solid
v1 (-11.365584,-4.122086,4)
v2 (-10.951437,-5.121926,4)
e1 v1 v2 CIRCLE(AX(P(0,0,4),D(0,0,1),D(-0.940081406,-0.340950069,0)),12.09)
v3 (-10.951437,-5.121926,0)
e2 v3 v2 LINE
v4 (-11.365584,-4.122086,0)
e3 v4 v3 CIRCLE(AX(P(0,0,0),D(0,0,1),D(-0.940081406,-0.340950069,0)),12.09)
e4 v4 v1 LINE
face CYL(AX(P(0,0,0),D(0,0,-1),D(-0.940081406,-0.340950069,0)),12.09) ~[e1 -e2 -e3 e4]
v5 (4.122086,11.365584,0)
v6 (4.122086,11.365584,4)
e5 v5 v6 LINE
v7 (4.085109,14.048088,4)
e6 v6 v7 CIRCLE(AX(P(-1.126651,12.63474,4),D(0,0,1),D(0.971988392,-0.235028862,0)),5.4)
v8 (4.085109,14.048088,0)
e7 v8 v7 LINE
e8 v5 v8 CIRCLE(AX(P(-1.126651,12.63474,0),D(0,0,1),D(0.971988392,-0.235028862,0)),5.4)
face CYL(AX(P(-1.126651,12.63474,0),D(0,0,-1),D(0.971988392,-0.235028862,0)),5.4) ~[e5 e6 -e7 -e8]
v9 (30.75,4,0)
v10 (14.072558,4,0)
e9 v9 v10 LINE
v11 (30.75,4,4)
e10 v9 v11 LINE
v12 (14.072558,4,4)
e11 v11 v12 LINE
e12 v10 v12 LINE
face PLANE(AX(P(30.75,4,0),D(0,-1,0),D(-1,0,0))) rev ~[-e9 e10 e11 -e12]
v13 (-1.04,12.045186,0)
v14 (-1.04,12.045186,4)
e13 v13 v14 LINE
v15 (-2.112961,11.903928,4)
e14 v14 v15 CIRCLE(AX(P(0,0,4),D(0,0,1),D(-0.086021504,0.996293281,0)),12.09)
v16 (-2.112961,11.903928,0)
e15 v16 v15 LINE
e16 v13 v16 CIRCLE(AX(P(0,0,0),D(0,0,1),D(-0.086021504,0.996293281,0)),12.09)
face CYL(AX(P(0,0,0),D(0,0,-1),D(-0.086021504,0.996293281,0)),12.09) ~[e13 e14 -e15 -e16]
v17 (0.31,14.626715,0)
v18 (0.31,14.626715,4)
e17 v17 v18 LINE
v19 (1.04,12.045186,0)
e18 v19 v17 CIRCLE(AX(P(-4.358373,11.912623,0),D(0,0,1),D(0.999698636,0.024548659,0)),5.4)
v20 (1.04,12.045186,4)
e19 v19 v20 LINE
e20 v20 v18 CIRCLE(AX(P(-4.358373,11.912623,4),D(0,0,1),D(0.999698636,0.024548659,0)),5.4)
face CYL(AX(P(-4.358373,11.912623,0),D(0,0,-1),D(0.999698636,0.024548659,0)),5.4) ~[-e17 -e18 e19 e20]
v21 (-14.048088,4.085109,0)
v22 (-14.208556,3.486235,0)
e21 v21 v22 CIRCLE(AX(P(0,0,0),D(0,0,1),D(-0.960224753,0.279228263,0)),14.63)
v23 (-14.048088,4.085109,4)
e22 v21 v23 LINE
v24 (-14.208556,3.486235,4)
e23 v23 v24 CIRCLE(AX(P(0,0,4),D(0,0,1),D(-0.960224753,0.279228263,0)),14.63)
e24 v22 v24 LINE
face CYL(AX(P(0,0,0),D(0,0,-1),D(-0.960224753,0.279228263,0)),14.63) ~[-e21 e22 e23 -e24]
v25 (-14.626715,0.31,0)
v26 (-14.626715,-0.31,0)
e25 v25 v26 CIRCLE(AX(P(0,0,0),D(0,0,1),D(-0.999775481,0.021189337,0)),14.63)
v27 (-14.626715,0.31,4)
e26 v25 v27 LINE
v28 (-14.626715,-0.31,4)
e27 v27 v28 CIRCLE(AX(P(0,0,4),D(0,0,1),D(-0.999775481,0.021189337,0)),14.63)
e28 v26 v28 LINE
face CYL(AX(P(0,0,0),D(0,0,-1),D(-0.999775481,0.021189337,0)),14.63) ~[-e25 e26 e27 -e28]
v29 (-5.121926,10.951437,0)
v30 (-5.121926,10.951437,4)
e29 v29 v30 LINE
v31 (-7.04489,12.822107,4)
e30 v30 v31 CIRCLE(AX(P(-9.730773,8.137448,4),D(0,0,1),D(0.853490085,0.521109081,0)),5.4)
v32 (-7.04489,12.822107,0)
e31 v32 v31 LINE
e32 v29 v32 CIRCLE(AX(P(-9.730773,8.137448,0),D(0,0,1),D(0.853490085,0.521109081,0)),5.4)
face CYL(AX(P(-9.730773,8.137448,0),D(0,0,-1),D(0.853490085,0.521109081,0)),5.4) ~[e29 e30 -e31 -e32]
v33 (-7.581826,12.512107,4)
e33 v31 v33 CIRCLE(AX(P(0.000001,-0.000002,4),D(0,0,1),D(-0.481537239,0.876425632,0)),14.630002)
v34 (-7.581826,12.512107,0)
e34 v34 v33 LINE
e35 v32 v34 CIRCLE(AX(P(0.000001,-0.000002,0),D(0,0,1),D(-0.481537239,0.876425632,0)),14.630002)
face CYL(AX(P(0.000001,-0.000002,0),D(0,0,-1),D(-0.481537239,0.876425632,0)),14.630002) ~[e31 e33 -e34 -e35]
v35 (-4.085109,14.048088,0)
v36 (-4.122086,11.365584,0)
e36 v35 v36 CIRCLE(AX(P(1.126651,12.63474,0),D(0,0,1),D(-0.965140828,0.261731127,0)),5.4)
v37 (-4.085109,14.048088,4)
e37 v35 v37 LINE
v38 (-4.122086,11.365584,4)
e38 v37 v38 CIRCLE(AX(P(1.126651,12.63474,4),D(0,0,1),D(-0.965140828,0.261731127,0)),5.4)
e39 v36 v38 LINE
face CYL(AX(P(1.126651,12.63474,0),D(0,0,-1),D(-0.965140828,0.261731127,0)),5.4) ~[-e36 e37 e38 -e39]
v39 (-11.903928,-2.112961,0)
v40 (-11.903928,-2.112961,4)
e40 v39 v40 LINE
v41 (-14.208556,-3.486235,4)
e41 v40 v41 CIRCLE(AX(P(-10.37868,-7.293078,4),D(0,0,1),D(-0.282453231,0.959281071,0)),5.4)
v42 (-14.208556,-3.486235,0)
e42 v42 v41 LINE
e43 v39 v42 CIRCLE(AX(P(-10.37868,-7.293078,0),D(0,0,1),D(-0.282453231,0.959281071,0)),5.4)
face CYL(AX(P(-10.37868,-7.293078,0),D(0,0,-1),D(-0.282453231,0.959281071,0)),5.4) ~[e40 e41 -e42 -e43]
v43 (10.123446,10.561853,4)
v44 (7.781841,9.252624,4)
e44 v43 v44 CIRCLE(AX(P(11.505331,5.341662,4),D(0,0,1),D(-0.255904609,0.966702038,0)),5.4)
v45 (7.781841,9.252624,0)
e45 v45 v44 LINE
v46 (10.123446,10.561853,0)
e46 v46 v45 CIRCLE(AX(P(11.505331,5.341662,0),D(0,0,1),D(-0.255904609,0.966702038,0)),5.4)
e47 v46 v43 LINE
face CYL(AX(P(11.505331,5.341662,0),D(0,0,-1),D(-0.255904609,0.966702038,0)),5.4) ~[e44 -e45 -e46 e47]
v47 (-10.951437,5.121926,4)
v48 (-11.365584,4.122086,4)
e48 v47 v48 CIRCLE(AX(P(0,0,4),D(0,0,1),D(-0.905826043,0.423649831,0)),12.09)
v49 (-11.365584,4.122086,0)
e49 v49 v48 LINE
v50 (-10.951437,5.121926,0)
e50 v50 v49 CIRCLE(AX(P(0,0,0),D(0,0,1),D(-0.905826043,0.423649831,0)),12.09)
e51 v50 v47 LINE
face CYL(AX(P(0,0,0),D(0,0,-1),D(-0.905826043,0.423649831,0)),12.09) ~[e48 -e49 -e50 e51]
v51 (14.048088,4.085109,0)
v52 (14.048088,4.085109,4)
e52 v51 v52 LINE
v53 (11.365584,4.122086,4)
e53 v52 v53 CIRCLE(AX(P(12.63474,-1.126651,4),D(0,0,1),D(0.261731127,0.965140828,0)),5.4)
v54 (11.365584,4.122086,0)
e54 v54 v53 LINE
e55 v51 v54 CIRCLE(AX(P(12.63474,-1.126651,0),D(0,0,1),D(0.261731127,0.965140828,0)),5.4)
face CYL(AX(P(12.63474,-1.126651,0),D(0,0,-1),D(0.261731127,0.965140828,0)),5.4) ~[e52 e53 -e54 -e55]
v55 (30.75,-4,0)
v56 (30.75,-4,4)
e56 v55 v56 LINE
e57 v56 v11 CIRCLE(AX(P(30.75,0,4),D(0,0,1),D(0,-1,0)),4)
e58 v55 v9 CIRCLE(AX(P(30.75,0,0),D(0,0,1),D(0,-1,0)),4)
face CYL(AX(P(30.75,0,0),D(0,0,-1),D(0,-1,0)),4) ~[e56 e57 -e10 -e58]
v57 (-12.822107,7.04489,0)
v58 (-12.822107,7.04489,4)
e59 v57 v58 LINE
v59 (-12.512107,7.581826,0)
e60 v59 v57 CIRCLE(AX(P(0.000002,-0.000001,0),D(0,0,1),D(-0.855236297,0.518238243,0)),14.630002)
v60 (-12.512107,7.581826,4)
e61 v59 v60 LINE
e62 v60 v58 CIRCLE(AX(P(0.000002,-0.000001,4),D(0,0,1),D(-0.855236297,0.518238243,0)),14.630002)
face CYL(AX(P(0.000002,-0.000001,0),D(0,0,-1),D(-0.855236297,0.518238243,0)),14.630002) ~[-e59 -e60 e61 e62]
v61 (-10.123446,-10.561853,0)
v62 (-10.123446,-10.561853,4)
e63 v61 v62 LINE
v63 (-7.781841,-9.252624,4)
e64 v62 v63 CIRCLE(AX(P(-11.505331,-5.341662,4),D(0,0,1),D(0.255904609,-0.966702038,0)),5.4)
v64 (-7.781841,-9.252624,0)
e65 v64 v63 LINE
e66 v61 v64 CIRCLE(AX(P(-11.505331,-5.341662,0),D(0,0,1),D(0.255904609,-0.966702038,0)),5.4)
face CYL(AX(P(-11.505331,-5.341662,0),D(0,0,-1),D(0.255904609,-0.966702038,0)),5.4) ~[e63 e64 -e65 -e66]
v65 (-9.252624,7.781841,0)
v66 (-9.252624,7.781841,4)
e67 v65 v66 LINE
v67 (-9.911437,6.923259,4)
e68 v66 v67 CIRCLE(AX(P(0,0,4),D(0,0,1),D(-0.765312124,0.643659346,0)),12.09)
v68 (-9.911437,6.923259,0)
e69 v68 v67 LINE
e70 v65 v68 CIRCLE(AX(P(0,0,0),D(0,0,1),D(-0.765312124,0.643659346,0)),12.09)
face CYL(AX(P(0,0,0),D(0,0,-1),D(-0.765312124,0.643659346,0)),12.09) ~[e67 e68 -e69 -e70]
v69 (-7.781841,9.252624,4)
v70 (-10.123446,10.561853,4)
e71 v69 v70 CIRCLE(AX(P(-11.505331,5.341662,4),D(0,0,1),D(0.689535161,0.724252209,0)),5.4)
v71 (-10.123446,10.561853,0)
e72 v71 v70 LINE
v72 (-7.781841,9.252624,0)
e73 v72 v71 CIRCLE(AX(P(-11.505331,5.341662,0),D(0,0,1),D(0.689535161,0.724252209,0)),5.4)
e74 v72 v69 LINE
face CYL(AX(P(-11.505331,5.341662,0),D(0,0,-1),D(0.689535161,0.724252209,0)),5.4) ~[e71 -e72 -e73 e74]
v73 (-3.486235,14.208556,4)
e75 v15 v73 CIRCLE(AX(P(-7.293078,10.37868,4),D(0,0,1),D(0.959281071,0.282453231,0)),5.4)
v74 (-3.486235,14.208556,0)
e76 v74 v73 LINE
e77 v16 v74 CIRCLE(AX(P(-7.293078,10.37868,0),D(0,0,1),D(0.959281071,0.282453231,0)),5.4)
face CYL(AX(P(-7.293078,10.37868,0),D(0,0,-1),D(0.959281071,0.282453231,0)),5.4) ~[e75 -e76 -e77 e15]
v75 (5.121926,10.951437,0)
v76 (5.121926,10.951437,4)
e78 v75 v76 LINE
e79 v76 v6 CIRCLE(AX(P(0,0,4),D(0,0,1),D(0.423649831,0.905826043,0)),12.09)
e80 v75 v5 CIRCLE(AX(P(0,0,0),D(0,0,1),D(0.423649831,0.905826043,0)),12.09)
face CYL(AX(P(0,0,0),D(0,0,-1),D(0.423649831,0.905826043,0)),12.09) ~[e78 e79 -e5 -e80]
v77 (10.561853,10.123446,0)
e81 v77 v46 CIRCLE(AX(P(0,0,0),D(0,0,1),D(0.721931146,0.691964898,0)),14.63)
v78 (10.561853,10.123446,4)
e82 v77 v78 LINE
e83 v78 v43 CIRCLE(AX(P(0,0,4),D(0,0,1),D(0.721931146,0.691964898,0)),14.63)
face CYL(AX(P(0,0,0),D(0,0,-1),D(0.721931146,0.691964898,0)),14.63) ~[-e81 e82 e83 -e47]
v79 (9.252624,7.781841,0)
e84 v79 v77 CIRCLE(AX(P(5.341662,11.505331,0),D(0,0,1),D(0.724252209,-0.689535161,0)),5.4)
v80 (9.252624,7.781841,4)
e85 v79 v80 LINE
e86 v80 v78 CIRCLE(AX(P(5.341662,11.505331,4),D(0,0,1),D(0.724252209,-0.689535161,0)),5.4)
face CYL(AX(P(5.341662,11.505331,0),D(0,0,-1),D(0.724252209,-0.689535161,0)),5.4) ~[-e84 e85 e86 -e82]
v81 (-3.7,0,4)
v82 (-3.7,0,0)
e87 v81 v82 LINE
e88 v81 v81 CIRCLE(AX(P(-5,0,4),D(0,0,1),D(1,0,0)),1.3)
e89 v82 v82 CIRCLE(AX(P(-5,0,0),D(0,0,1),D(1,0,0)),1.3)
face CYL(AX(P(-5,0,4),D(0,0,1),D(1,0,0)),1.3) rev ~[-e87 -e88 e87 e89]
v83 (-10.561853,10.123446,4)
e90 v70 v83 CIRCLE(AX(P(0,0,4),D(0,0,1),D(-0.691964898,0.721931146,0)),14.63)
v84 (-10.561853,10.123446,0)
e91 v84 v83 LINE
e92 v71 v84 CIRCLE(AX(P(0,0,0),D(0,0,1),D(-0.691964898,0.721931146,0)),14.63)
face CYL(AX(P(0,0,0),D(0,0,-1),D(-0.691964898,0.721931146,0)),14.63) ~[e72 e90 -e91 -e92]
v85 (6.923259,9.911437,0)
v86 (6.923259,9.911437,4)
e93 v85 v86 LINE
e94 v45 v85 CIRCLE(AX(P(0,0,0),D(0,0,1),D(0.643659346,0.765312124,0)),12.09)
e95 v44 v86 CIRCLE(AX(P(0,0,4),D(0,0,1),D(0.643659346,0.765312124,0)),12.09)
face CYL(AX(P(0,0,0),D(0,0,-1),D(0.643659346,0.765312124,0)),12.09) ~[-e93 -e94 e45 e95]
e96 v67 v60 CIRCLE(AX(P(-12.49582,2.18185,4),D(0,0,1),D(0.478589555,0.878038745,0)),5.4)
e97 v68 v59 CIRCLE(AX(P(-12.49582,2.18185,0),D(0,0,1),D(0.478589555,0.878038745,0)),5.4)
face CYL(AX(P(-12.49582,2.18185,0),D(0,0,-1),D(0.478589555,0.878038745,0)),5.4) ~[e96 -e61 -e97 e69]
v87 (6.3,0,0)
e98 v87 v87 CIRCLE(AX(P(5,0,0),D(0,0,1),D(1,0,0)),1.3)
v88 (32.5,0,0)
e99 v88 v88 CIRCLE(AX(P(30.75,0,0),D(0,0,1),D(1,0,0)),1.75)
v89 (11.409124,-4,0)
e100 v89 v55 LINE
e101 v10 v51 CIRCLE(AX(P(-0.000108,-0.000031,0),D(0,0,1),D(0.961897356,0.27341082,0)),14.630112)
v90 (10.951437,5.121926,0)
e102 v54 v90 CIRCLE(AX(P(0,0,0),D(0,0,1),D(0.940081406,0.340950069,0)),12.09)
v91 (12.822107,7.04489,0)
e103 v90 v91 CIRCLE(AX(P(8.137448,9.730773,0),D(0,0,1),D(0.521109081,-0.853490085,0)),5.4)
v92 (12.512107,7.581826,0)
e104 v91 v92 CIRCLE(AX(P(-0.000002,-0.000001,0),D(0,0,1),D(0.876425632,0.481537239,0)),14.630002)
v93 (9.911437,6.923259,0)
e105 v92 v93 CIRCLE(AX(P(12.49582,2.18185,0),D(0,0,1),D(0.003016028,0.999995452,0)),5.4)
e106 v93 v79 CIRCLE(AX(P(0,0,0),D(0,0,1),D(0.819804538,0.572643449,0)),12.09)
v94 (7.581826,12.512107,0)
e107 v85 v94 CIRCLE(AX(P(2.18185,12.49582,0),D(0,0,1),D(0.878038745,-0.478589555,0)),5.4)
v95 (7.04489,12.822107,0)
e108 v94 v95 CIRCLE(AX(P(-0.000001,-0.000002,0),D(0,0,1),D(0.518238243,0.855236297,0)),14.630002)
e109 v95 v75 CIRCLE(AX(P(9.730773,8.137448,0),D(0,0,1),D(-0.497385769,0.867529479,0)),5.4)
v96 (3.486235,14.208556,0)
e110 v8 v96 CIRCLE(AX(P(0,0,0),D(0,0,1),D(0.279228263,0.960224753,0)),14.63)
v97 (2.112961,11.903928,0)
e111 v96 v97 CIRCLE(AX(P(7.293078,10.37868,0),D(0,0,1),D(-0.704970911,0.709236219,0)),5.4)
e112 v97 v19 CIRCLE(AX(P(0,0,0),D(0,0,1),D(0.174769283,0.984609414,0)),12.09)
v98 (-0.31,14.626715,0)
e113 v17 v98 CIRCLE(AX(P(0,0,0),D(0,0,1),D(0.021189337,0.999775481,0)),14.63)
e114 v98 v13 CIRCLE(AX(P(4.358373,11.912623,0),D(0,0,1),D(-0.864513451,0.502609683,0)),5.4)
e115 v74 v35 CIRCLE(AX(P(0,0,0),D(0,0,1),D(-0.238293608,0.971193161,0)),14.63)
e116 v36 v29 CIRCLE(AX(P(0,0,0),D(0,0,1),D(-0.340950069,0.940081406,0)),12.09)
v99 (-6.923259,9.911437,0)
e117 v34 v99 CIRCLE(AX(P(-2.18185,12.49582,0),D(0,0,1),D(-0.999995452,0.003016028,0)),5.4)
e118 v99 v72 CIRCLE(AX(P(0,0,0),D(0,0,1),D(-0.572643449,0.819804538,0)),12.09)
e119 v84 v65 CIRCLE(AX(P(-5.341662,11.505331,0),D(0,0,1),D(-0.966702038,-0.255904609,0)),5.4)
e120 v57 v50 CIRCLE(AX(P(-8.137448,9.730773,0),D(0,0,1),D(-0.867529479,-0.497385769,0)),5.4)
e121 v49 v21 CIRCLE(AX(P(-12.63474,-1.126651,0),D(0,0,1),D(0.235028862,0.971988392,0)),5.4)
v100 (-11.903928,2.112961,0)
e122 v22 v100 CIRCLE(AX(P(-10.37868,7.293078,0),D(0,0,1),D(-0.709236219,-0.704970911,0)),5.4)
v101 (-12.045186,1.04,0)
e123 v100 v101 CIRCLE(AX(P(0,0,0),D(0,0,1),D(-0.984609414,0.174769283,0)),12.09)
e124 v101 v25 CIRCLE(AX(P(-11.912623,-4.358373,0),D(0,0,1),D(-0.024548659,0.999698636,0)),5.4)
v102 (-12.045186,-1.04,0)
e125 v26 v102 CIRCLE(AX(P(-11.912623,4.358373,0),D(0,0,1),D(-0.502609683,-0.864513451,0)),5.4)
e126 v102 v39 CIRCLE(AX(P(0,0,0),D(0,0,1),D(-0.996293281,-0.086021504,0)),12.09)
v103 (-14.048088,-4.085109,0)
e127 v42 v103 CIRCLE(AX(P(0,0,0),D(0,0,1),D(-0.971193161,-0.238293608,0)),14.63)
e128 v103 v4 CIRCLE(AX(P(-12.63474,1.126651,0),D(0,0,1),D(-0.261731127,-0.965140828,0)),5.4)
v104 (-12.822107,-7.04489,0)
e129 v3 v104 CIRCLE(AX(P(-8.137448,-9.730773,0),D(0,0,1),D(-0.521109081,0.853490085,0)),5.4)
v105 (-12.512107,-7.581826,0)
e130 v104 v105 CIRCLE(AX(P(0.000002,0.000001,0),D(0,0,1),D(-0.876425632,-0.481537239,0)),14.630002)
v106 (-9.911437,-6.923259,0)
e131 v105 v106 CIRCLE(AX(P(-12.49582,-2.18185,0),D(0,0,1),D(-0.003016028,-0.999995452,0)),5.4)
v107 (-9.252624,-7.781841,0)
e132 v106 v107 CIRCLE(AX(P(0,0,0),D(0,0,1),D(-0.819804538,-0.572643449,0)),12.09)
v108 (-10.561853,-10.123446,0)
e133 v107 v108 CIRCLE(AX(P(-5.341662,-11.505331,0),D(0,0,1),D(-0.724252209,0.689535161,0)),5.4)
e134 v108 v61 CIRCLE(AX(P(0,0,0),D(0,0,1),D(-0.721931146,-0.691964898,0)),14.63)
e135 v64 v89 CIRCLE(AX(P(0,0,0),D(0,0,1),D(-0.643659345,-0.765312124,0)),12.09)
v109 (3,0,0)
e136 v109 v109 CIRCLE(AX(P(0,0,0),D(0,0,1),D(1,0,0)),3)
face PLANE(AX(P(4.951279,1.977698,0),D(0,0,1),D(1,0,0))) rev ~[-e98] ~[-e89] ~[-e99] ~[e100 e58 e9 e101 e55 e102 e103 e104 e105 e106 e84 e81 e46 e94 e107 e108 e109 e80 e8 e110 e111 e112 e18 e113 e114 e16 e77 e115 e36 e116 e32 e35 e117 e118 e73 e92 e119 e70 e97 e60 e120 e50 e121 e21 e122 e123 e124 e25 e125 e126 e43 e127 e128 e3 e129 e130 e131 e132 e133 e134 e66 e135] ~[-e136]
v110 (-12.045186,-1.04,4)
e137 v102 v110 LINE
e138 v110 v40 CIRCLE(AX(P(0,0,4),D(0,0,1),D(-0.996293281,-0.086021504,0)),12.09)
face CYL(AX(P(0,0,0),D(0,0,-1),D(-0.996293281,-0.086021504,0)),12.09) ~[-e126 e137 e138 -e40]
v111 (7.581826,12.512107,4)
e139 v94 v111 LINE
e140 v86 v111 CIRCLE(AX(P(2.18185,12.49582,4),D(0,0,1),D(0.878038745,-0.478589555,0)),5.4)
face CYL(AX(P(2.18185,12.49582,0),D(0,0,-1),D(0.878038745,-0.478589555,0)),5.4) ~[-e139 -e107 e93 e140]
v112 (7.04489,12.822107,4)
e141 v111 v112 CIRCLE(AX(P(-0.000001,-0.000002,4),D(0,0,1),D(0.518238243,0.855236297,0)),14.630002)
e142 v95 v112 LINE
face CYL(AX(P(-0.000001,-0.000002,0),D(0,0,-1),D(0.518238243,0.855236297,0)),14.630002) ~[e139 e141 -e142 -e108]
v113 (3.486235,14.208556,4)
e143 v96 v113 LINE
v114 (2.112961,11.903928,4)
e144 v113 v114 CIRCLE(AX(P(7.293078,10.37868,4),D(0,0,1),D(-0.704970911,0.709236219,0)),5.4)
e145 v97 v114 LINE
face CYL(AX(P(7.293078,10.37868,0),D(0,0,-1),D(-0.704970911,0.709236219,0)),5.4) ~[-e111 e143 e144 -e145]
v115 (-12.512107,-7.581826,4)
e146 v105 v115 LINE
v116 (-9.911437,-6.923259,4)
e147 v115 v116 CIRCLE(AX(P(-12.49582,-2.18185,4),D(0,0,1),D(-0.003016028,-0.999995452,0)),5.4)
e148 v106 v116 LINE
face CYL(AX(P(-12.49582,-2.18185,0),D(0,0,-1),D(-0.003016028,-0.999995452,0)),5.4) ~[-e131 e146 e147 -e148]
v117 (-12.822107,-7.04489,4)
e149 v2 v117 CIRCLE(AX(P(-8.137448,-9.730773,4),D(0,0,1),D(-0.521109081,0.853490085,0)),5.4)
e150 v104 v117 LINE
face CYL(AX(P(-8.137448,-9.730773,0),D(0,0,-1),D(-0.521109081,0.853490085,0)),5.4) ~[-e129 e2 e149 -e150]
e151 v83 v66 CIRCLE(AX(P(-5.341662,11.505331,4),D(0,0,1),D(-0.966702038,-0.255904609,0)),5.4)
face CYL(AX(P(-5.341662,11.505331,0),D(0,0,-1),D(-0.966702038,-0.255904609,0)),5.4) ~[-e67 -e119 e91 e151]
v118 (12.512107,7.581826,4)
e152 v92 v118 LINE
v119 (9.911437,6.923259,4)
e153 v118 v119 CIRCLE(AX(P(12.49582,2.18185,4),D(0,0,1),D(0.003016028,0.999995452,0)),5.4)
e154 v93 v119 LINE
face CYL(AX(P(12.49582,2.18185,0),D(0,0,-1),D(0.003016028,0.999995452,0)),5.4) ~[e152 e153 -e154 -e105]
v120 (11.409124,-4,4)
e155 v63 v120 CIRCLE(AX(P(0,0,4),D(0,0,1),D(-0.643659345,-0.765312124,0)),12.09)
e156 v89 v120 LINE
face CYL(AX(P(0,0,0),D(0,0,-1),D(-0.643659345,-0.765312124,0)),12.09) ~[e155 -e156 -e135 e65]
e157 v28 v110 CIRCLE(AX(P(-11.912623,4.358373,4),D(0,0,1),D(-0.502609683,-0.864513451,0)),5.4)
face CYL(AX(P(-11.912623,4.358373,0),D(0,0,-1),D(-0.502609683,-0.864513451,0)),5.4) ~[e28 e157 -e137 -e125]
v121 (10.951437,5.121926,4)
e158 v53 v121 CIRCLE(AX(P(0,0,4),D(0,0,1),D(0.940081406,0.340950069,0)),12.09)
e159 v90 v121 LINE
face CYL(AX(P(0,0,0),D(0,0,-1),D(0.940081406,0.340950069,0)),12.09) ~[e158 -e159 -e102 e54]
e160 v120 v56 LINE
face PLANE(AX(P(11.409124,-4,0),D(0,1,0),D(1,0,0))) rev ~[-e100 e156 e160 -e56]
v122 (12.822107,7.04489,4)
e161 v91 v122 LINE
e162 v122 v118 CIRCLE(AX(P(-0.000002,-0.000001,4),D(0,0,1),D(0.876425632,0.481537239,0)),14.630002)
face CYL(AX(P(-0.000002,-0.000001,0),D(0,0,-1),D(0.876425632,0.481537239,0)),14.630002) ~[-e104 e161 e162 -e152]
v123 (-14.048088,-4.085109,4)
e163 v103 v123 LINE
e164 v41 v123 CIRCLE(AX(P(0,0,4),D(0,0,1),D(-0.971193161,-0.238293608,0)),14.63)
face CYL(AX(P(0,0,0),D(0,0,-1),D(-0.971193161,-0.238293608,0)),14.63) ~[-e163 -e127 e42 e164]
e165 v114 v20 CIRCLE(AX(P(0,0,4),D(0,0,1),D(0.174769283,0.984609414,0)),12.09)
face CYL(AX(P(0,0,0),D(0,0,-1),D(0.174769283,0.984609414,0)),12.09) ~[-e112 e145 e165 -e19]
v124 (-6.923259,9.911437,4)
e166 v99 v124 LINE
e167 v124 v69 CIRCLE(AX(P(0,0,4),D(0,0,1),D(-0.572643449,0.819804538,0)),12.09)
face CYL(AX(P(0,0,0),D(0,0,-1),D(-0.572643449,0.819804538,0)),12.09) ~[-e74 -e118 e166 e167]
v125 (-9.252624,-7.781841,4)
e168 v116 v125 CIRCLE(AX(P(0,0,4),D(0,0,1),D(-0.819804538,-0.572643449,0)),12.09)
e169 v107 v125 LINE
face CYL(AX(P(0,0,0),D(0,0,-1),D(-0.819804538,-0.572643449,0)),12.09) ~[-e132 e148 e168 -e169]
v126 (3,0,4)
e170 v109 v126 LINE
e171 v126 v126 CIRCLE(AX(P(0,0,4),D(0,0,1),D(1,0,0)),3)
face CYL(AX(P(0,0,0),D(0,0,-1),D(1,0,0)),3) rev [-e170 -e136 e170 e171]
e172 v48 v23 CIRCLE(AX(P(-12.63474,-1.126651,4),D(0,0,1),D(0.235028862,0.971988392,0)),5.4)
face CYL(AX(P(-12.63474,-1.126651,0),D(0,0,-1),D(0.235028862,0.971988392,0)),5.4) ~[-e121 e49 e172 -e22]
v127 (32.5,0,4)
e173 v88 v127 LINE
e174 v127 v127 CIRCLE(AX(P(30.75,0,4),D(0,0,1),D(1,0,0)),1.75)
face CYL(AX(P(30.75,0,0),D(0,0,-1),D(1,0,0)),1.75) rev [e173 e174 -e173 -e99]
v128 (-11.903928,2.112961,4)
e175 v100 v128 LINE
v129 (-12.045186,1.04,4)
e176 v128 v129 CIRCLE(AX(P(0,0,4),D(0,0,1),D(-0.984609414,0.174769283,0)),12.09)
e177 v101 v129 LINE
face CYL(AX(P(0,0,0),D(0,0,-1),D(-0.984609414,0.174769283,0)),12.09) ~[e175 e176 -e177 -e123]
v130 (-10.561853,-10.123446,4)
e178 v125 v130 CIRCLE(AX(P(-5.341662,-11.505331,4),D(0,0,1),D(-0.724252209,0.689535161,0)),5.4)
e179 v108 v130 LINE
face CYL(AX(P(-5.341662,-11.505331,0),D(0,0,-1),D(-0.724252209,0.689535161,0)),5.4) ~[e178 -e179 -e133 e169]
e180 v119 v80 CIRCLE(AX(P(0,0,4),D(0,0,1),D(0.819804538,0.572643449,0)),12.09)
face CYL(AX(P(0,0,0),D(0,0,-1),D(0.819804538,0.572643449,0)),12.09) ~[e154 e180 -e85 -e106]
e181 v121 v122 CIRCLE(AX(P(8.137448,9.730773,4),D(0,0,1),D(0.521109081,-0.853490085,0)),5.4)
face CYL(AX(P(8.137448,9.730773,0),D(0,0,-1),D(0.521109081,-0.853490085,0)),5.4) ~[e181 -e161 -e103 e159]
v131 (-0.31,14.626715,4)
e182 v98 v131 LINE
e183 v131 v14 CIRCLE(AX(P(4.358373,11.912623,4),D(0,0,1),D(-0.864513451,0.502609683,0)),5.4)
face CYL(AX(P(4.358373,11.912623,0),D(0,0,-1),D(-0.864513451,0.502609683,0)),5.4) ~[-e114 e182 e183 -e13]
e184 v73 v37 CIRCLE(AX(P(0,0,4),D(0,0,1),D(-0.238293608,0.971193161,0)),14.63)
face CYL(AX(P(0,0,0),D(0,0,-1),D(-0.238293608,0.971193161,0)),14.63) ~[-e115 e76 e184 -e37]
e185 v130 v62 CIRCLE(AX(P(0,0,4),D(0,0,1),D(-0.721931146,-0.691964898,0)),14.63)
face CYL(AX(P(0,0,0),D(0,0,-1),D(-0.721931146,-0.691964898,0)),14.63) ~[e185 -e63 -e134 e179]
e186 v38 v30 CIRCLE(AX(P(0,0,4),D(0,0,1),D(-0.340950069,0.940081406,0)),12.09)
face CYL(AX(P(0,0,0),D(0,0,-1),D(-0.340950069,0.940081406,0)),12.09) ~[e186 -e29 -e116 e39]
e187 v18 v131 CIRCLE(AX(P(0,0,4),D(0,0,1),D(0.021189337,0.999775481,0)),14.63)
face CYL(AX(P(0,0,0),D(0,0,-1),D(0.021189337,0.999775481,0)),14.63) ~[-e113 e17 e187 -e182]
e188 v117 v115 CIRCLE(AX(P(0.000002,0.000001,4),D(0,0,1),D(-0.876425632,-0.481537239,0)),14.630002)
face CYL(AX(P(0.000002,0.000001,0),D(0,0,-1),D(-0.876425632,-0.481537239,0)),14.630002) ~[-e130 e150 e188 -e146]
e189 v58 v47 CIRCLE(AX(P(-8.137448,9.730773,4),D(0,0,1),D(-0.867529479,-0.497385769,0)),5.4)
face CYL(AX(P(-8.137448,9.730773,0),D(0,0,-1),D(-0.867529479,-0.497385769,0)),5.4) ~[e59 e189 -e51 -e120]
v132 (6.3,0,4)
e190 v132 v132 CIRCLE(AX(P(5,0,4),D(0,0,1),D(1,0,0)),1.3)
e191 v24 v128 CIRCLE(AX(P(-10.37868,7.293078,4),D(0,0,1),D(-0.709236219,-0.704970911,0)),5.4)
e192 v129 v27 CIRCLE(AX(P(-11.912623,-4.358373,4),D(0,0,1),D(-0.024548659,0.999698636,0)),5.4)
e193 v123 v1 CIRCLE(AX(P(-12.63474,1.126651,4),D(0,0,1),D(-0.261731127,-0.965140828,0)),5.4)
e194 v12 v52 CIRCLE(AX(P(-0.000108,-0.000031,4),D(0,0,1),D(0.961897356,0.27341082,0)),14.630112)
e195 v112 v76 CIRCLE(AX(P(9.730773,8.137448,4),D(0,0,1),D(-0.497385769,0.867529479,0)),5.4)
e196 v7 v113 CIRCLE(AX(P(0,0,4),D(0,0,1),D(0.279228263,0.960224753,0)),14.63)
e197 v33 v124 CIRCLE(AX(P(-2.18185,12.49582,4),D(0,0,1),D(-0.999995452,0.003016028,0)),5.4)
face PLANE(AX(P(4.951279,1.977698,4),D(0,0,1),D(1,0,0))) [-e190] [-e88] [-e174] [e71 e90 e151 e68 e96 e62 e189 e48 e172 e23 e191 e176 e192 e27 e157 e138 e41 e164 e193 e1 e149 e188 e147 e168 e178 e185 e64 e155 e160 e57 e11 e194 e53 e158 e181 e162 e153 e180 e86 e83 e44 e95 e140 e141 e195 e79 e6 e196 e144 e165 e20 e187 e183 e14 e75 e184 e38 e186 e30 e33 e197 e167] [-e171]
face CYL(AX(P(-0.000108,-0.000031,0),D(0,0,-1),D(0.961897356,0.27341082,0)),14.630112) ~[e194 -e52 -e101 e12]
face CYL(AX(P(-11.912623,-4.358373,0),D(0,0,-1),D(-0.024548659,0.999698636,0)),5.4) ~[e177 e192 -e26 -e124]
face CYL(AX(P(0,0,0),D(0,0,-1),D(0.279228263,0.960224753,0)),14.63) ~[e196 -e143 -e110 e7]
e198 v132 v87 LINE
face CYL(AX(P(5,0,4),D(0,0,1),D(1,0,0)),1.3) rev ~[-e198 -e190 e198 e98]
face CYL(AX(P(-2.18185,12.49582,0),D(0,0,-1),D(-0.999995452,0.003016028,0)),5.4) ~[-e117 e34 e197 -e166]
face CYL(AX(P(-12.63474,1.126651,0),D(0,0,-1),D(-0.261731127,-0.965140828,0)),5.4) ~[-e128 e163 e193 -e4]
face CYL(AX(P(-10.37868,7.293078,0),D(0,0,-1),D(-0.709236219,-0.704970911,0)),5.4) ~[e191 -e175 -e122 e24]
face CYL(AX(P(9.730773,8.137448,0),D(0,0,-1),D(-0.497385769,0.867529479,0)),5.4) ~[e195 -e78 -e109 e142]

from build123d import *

# Parameters (mm, degrees)
SKETCH1_R           = 1.75
SKETCH1_R_2         = 3
BOSS_EXTRUDE3_DEPTH = 4
SKETCH7_R           = 1.3
CUT_EXTRUDE1_DEPTH  = 5


with BuildPart() as part:
    # Sketch1 → Boss-Extrude3 (new body)
    with BuildSketch(Plane.XY):
        with BuildLine():
            ThreePointArc((30.75, -4), (34.75, 0), (30.75, 4))
            Line((30.75, 4), (14.072558403, 4))
            ThreePointArc((14.072558403, 4), (14.06038767, 4.04257326), (14.048088143, 4.085109489))
            ThreePointArc((14.048088143, 4.085109489), (12.709169027, 4.272836063), (11.365584201, 4.122086336))
            ThreePointArc((11.365584201, 4.122086336), (11.169703548, 4.626642697), (10.951436862, 5.12192646))
            ThreePointArc((10.951436862, 5.12192646), (12.008090957, 5.965388247), (12.82210701, 7.044889767))
            ThreePointArc((12.82210701, 7.044889767), (12.669951657, 7.315), (12.51210701, 7.581825517))
            ThreePointArc((12.51210701, 7.581825517), (11.170223244, 7.416617696), (9.911436862, 6.9232593))
            ThreePointArc((9.911436862, 6.9232593), (9.591641884, 7.359925677), (9.252623584, 7.781841479))
            ThreePointArc((9.252623584, 7.781841479), (10.05496909, 8.870045207), (10.561852666, 10.123446462))
            ThreePointArc((10.561852666, 10.123446462), (10.344972209, 10.344972209), (10.123446462, 10.561852666))
            ThreePointArc((10.123446462, 10.561852666), (8.870045207, 10.05496909), (7.781841479, 9.252623584))
            ThreePointArc((7.781841479, 9.252623584), (7.359925677, 9.591641884), (6.9232593, 9.911436862))
            ThreePointArc((6.9232593, 9.911436862), (7.416617696, 11.170223244), (7.581825517, 12.51210701))
            ThreePointArc((7.581825517, 12.51210701), (7.315, 12.669951657), (7.044889767, 12.82210701))
            ThreePointArc((7.044889767, 12.82210701), (5.965388247, 12.008090957), (5.12192646, 10.951436862))
            ThreePointArc((5.12192646, 10.951436862), (4.626642697, 11.169703548), (4.122086336, 11.365584201))
            ThreePointArc((4.122086336, 11.365584201), (4.272836063, 12.709169027), (4.085109489, 14.048088143))
            ThreePointArc((4.085109489, 14.048088143), (3.78652263, 14.131494839), (3.486235477, 14.208555951))
            ThreePointArc((3.486235477, 14.208555951), (2.654199937, 13.14288127), (2.112960617, 11.903927815))
            ThreePointArc((2.112960617, 11.903927815), (1.578061664, 11.986568374), (1.04, 12.04518576))
            ThreePointArc((1.04, 12.04518576), (0.837867713, 13.382005944), (0.31, 14.626715284))
            ThreePointArc((0.31, 14.626715284), (0, 14.63), (-0.31, 14.626715284))
            ThreePointArc((-0.31, 14.626715284), (-0.837867713, 13.382005944), (-1.04, 12.04518576))
            ThreePointArc((-1.04, 12.04518576), (-1.578061664, 11.986568374), (-2.112960617, 11.903927815))
            ThreePointArc((-2.112960617, 11.903927815), (-2.654199937, 13.14288127), (-3.486235477, 14.208555951))
            ThreePointArc((-3.486235477, 14.208555951), (-3.78652263, 14.131494839), (-4.085109489, 14.048088143))
            ThreePointArc((-4.085109489, 14.048088143), (-4.272836063, 12.709169027), (-4.122086336, 11.365584201))
            ThreePointArc((-4.122086336, 11.365584201), (-4.626642697, 11.169703548), (-5.12192646, 10.951436862))
            ThreePointArc((-5.12192646, 10.951436862), (-5.965388247, 12.008090957), (-7.044889767, 12.82210701))
            ThreePointArc((-7.044889767, 12.82210701), (-7.315, 12.669951657), (-7.581825517, 12.51210701))
            ThreePointArc((-7.581825517, 12.51210701), (-7.416617696, 11.170223244), (-6.9232593, 9.911436862))
            ThreePointArc((-6.9232593, 9.911436862), (-7.359925677, 9.591641884), (-7.781841479, 9.252623584))
            ThreePointArc((-7.781841479, 9.252623584), (-8.870045207, 10.05496909), (-10.123446462, 10.561852666))
            ThreePointArc((-10.123446462, 10.561852666), (-10.344972209, 10.344972209), (-10.561852666, 10.123446462))
            ThreePointArc((-10.561852666, 10.123446462), (-10.05496909, 8.870045207), (-9.252623584, 7.781841479))
            ThreePointArc((-9.252623584, 7.781841479), (-9.591641884, 7.359925677), (-9.911436862, 6.9232593))
            ThreePointArc((-9.911436862, 6.9232593), (-11.170223244, 7.416617696), (-12.51210701, 7.581825517))
            ThreePointArc((-12.51210701, 7.581825517), (-12.669951657, 7.315), (-12.82210701, 7.044889767))
            ThreePointArc((-12.82210701, 7.044889767), (-12.008090957, 5.965388247), (-10.951436862, 5.12192646))
            ThreePointArc((-10.951436862, 5.12192646), (-11.169703548, 4.626642697), (-11.365584201, 4.122086336))
            ThreePointArc((-11.365584201, 4.122086336), (-12.709169027, 4.272836063), (-14.048088143, 4.085109489))
            ThreePointArc((-14.048088143, 4.085109489), (-14.131494839, 3.78652263), (-14.208555951, 3.486235477))
            ThreePointArc((-14.208555951, 3.486235477), (-13.14288127, 2.654199937), (-11.903927815, 2.112960617))
            ThreePointArc((-11.903927815, 2.112960617), (-11.986568374, 1.578061664), (-12.04518576, 1.04))
            ThreePointArc((-12.04518576, 1.04), (-13.382005944, 0.837867713), (-14.626715284, 0.31))
            ThreePointArc((-14.626715284, 0.31), (-14.63, 0), (-14.626715284, -0.31))
            ThreePointArc((-14.626715284, -0.31), (-13.382005944, -0.837867713), (-12.04518576, -1.04))
            ThreePointArc((-12.04518576, -1.04), (-11.986568374, -1.578061664), (-11.903927815, -2.112960617))
            ThreePointArc((-11.903927815, -2.112960617), (-13.14288127, -2.654199937), (-14.208555951, -3.486235477))
            ThreePointArc((-14.208555951, -3.486235477), (-14.131494839, -3.78652263), (-14.048088143, -4.085109489))
            ThreePointArc((-14.048088143, -4.085109489), (-12.709169027, -4.272836063), (-11.365584201, -4.122086336))
            ThreePointArc((-11.365584201, -4.122086336), (-11.169703548, -4.626642697), (-10.951436862, -5.12192646))
            ThreePointArc((-10.951436862, -5.12192646), (-12.008090957, -5.965388247), (-12.82210701, -7.044889767))
            ThreePointArc((-12.82210701, -7.044889767), (-12.669951657, -7.315), (-12.51210701, -7.581825517))
            ThreePointArc((-12.51210701, -7.581825517), (-11.170223244, -7.416617696), (-9.911436862, -6.9232593))
            ThreePointArc((-9.911436862, -6.9232593), (-9.591641884, -7.359925677), (-9.252623584, -7.781841479))
            ThreePointArc((-9.252623584, -7.781841479), (-10.05496909, -8.870045207), (-10.561852666, -10.123446462))
            ThreePointArc((-10.561852666, -10.123446462), (-10.344972209, -10.344972209), (-10.123446462, -10.561852666))
            ThreePointArc((-10.123446462, -10.561852666), (-8.870045207, -10.05496909), (-7.781841479, -9.252623584))
            ThreePointArc((-7.781841479, -9.252623584), (3.191677838, -11.661101688), (11.409123542, -4))
            Line((11.409123542, -4), (30.75, -4))
        make_face()
        with Locations((30.75, 0)):
            Circle(SKETCH1_R, mode=Mode.SUBTRACT)
        Circle(SKETCH1_R_2, mode=Mode.SUBTRACT)
    extrude(amount=BOSS_EXTRUDE3_DEPTH)

    # Sketch7 → Cut-Extrude1 (cut, through all)
    with BuildSketch(Plane.XY.offset(4)):
        with Locations((5, 0)):
            Circle(SKETCH7_R)
        with Locations((-5, 0)):
            Circle(SKETCH7_R)
    extrude(amount=-CUT_EXTRUDE1_DEPTH, mode=Mode.SUBTRACT)


solid = part.part
